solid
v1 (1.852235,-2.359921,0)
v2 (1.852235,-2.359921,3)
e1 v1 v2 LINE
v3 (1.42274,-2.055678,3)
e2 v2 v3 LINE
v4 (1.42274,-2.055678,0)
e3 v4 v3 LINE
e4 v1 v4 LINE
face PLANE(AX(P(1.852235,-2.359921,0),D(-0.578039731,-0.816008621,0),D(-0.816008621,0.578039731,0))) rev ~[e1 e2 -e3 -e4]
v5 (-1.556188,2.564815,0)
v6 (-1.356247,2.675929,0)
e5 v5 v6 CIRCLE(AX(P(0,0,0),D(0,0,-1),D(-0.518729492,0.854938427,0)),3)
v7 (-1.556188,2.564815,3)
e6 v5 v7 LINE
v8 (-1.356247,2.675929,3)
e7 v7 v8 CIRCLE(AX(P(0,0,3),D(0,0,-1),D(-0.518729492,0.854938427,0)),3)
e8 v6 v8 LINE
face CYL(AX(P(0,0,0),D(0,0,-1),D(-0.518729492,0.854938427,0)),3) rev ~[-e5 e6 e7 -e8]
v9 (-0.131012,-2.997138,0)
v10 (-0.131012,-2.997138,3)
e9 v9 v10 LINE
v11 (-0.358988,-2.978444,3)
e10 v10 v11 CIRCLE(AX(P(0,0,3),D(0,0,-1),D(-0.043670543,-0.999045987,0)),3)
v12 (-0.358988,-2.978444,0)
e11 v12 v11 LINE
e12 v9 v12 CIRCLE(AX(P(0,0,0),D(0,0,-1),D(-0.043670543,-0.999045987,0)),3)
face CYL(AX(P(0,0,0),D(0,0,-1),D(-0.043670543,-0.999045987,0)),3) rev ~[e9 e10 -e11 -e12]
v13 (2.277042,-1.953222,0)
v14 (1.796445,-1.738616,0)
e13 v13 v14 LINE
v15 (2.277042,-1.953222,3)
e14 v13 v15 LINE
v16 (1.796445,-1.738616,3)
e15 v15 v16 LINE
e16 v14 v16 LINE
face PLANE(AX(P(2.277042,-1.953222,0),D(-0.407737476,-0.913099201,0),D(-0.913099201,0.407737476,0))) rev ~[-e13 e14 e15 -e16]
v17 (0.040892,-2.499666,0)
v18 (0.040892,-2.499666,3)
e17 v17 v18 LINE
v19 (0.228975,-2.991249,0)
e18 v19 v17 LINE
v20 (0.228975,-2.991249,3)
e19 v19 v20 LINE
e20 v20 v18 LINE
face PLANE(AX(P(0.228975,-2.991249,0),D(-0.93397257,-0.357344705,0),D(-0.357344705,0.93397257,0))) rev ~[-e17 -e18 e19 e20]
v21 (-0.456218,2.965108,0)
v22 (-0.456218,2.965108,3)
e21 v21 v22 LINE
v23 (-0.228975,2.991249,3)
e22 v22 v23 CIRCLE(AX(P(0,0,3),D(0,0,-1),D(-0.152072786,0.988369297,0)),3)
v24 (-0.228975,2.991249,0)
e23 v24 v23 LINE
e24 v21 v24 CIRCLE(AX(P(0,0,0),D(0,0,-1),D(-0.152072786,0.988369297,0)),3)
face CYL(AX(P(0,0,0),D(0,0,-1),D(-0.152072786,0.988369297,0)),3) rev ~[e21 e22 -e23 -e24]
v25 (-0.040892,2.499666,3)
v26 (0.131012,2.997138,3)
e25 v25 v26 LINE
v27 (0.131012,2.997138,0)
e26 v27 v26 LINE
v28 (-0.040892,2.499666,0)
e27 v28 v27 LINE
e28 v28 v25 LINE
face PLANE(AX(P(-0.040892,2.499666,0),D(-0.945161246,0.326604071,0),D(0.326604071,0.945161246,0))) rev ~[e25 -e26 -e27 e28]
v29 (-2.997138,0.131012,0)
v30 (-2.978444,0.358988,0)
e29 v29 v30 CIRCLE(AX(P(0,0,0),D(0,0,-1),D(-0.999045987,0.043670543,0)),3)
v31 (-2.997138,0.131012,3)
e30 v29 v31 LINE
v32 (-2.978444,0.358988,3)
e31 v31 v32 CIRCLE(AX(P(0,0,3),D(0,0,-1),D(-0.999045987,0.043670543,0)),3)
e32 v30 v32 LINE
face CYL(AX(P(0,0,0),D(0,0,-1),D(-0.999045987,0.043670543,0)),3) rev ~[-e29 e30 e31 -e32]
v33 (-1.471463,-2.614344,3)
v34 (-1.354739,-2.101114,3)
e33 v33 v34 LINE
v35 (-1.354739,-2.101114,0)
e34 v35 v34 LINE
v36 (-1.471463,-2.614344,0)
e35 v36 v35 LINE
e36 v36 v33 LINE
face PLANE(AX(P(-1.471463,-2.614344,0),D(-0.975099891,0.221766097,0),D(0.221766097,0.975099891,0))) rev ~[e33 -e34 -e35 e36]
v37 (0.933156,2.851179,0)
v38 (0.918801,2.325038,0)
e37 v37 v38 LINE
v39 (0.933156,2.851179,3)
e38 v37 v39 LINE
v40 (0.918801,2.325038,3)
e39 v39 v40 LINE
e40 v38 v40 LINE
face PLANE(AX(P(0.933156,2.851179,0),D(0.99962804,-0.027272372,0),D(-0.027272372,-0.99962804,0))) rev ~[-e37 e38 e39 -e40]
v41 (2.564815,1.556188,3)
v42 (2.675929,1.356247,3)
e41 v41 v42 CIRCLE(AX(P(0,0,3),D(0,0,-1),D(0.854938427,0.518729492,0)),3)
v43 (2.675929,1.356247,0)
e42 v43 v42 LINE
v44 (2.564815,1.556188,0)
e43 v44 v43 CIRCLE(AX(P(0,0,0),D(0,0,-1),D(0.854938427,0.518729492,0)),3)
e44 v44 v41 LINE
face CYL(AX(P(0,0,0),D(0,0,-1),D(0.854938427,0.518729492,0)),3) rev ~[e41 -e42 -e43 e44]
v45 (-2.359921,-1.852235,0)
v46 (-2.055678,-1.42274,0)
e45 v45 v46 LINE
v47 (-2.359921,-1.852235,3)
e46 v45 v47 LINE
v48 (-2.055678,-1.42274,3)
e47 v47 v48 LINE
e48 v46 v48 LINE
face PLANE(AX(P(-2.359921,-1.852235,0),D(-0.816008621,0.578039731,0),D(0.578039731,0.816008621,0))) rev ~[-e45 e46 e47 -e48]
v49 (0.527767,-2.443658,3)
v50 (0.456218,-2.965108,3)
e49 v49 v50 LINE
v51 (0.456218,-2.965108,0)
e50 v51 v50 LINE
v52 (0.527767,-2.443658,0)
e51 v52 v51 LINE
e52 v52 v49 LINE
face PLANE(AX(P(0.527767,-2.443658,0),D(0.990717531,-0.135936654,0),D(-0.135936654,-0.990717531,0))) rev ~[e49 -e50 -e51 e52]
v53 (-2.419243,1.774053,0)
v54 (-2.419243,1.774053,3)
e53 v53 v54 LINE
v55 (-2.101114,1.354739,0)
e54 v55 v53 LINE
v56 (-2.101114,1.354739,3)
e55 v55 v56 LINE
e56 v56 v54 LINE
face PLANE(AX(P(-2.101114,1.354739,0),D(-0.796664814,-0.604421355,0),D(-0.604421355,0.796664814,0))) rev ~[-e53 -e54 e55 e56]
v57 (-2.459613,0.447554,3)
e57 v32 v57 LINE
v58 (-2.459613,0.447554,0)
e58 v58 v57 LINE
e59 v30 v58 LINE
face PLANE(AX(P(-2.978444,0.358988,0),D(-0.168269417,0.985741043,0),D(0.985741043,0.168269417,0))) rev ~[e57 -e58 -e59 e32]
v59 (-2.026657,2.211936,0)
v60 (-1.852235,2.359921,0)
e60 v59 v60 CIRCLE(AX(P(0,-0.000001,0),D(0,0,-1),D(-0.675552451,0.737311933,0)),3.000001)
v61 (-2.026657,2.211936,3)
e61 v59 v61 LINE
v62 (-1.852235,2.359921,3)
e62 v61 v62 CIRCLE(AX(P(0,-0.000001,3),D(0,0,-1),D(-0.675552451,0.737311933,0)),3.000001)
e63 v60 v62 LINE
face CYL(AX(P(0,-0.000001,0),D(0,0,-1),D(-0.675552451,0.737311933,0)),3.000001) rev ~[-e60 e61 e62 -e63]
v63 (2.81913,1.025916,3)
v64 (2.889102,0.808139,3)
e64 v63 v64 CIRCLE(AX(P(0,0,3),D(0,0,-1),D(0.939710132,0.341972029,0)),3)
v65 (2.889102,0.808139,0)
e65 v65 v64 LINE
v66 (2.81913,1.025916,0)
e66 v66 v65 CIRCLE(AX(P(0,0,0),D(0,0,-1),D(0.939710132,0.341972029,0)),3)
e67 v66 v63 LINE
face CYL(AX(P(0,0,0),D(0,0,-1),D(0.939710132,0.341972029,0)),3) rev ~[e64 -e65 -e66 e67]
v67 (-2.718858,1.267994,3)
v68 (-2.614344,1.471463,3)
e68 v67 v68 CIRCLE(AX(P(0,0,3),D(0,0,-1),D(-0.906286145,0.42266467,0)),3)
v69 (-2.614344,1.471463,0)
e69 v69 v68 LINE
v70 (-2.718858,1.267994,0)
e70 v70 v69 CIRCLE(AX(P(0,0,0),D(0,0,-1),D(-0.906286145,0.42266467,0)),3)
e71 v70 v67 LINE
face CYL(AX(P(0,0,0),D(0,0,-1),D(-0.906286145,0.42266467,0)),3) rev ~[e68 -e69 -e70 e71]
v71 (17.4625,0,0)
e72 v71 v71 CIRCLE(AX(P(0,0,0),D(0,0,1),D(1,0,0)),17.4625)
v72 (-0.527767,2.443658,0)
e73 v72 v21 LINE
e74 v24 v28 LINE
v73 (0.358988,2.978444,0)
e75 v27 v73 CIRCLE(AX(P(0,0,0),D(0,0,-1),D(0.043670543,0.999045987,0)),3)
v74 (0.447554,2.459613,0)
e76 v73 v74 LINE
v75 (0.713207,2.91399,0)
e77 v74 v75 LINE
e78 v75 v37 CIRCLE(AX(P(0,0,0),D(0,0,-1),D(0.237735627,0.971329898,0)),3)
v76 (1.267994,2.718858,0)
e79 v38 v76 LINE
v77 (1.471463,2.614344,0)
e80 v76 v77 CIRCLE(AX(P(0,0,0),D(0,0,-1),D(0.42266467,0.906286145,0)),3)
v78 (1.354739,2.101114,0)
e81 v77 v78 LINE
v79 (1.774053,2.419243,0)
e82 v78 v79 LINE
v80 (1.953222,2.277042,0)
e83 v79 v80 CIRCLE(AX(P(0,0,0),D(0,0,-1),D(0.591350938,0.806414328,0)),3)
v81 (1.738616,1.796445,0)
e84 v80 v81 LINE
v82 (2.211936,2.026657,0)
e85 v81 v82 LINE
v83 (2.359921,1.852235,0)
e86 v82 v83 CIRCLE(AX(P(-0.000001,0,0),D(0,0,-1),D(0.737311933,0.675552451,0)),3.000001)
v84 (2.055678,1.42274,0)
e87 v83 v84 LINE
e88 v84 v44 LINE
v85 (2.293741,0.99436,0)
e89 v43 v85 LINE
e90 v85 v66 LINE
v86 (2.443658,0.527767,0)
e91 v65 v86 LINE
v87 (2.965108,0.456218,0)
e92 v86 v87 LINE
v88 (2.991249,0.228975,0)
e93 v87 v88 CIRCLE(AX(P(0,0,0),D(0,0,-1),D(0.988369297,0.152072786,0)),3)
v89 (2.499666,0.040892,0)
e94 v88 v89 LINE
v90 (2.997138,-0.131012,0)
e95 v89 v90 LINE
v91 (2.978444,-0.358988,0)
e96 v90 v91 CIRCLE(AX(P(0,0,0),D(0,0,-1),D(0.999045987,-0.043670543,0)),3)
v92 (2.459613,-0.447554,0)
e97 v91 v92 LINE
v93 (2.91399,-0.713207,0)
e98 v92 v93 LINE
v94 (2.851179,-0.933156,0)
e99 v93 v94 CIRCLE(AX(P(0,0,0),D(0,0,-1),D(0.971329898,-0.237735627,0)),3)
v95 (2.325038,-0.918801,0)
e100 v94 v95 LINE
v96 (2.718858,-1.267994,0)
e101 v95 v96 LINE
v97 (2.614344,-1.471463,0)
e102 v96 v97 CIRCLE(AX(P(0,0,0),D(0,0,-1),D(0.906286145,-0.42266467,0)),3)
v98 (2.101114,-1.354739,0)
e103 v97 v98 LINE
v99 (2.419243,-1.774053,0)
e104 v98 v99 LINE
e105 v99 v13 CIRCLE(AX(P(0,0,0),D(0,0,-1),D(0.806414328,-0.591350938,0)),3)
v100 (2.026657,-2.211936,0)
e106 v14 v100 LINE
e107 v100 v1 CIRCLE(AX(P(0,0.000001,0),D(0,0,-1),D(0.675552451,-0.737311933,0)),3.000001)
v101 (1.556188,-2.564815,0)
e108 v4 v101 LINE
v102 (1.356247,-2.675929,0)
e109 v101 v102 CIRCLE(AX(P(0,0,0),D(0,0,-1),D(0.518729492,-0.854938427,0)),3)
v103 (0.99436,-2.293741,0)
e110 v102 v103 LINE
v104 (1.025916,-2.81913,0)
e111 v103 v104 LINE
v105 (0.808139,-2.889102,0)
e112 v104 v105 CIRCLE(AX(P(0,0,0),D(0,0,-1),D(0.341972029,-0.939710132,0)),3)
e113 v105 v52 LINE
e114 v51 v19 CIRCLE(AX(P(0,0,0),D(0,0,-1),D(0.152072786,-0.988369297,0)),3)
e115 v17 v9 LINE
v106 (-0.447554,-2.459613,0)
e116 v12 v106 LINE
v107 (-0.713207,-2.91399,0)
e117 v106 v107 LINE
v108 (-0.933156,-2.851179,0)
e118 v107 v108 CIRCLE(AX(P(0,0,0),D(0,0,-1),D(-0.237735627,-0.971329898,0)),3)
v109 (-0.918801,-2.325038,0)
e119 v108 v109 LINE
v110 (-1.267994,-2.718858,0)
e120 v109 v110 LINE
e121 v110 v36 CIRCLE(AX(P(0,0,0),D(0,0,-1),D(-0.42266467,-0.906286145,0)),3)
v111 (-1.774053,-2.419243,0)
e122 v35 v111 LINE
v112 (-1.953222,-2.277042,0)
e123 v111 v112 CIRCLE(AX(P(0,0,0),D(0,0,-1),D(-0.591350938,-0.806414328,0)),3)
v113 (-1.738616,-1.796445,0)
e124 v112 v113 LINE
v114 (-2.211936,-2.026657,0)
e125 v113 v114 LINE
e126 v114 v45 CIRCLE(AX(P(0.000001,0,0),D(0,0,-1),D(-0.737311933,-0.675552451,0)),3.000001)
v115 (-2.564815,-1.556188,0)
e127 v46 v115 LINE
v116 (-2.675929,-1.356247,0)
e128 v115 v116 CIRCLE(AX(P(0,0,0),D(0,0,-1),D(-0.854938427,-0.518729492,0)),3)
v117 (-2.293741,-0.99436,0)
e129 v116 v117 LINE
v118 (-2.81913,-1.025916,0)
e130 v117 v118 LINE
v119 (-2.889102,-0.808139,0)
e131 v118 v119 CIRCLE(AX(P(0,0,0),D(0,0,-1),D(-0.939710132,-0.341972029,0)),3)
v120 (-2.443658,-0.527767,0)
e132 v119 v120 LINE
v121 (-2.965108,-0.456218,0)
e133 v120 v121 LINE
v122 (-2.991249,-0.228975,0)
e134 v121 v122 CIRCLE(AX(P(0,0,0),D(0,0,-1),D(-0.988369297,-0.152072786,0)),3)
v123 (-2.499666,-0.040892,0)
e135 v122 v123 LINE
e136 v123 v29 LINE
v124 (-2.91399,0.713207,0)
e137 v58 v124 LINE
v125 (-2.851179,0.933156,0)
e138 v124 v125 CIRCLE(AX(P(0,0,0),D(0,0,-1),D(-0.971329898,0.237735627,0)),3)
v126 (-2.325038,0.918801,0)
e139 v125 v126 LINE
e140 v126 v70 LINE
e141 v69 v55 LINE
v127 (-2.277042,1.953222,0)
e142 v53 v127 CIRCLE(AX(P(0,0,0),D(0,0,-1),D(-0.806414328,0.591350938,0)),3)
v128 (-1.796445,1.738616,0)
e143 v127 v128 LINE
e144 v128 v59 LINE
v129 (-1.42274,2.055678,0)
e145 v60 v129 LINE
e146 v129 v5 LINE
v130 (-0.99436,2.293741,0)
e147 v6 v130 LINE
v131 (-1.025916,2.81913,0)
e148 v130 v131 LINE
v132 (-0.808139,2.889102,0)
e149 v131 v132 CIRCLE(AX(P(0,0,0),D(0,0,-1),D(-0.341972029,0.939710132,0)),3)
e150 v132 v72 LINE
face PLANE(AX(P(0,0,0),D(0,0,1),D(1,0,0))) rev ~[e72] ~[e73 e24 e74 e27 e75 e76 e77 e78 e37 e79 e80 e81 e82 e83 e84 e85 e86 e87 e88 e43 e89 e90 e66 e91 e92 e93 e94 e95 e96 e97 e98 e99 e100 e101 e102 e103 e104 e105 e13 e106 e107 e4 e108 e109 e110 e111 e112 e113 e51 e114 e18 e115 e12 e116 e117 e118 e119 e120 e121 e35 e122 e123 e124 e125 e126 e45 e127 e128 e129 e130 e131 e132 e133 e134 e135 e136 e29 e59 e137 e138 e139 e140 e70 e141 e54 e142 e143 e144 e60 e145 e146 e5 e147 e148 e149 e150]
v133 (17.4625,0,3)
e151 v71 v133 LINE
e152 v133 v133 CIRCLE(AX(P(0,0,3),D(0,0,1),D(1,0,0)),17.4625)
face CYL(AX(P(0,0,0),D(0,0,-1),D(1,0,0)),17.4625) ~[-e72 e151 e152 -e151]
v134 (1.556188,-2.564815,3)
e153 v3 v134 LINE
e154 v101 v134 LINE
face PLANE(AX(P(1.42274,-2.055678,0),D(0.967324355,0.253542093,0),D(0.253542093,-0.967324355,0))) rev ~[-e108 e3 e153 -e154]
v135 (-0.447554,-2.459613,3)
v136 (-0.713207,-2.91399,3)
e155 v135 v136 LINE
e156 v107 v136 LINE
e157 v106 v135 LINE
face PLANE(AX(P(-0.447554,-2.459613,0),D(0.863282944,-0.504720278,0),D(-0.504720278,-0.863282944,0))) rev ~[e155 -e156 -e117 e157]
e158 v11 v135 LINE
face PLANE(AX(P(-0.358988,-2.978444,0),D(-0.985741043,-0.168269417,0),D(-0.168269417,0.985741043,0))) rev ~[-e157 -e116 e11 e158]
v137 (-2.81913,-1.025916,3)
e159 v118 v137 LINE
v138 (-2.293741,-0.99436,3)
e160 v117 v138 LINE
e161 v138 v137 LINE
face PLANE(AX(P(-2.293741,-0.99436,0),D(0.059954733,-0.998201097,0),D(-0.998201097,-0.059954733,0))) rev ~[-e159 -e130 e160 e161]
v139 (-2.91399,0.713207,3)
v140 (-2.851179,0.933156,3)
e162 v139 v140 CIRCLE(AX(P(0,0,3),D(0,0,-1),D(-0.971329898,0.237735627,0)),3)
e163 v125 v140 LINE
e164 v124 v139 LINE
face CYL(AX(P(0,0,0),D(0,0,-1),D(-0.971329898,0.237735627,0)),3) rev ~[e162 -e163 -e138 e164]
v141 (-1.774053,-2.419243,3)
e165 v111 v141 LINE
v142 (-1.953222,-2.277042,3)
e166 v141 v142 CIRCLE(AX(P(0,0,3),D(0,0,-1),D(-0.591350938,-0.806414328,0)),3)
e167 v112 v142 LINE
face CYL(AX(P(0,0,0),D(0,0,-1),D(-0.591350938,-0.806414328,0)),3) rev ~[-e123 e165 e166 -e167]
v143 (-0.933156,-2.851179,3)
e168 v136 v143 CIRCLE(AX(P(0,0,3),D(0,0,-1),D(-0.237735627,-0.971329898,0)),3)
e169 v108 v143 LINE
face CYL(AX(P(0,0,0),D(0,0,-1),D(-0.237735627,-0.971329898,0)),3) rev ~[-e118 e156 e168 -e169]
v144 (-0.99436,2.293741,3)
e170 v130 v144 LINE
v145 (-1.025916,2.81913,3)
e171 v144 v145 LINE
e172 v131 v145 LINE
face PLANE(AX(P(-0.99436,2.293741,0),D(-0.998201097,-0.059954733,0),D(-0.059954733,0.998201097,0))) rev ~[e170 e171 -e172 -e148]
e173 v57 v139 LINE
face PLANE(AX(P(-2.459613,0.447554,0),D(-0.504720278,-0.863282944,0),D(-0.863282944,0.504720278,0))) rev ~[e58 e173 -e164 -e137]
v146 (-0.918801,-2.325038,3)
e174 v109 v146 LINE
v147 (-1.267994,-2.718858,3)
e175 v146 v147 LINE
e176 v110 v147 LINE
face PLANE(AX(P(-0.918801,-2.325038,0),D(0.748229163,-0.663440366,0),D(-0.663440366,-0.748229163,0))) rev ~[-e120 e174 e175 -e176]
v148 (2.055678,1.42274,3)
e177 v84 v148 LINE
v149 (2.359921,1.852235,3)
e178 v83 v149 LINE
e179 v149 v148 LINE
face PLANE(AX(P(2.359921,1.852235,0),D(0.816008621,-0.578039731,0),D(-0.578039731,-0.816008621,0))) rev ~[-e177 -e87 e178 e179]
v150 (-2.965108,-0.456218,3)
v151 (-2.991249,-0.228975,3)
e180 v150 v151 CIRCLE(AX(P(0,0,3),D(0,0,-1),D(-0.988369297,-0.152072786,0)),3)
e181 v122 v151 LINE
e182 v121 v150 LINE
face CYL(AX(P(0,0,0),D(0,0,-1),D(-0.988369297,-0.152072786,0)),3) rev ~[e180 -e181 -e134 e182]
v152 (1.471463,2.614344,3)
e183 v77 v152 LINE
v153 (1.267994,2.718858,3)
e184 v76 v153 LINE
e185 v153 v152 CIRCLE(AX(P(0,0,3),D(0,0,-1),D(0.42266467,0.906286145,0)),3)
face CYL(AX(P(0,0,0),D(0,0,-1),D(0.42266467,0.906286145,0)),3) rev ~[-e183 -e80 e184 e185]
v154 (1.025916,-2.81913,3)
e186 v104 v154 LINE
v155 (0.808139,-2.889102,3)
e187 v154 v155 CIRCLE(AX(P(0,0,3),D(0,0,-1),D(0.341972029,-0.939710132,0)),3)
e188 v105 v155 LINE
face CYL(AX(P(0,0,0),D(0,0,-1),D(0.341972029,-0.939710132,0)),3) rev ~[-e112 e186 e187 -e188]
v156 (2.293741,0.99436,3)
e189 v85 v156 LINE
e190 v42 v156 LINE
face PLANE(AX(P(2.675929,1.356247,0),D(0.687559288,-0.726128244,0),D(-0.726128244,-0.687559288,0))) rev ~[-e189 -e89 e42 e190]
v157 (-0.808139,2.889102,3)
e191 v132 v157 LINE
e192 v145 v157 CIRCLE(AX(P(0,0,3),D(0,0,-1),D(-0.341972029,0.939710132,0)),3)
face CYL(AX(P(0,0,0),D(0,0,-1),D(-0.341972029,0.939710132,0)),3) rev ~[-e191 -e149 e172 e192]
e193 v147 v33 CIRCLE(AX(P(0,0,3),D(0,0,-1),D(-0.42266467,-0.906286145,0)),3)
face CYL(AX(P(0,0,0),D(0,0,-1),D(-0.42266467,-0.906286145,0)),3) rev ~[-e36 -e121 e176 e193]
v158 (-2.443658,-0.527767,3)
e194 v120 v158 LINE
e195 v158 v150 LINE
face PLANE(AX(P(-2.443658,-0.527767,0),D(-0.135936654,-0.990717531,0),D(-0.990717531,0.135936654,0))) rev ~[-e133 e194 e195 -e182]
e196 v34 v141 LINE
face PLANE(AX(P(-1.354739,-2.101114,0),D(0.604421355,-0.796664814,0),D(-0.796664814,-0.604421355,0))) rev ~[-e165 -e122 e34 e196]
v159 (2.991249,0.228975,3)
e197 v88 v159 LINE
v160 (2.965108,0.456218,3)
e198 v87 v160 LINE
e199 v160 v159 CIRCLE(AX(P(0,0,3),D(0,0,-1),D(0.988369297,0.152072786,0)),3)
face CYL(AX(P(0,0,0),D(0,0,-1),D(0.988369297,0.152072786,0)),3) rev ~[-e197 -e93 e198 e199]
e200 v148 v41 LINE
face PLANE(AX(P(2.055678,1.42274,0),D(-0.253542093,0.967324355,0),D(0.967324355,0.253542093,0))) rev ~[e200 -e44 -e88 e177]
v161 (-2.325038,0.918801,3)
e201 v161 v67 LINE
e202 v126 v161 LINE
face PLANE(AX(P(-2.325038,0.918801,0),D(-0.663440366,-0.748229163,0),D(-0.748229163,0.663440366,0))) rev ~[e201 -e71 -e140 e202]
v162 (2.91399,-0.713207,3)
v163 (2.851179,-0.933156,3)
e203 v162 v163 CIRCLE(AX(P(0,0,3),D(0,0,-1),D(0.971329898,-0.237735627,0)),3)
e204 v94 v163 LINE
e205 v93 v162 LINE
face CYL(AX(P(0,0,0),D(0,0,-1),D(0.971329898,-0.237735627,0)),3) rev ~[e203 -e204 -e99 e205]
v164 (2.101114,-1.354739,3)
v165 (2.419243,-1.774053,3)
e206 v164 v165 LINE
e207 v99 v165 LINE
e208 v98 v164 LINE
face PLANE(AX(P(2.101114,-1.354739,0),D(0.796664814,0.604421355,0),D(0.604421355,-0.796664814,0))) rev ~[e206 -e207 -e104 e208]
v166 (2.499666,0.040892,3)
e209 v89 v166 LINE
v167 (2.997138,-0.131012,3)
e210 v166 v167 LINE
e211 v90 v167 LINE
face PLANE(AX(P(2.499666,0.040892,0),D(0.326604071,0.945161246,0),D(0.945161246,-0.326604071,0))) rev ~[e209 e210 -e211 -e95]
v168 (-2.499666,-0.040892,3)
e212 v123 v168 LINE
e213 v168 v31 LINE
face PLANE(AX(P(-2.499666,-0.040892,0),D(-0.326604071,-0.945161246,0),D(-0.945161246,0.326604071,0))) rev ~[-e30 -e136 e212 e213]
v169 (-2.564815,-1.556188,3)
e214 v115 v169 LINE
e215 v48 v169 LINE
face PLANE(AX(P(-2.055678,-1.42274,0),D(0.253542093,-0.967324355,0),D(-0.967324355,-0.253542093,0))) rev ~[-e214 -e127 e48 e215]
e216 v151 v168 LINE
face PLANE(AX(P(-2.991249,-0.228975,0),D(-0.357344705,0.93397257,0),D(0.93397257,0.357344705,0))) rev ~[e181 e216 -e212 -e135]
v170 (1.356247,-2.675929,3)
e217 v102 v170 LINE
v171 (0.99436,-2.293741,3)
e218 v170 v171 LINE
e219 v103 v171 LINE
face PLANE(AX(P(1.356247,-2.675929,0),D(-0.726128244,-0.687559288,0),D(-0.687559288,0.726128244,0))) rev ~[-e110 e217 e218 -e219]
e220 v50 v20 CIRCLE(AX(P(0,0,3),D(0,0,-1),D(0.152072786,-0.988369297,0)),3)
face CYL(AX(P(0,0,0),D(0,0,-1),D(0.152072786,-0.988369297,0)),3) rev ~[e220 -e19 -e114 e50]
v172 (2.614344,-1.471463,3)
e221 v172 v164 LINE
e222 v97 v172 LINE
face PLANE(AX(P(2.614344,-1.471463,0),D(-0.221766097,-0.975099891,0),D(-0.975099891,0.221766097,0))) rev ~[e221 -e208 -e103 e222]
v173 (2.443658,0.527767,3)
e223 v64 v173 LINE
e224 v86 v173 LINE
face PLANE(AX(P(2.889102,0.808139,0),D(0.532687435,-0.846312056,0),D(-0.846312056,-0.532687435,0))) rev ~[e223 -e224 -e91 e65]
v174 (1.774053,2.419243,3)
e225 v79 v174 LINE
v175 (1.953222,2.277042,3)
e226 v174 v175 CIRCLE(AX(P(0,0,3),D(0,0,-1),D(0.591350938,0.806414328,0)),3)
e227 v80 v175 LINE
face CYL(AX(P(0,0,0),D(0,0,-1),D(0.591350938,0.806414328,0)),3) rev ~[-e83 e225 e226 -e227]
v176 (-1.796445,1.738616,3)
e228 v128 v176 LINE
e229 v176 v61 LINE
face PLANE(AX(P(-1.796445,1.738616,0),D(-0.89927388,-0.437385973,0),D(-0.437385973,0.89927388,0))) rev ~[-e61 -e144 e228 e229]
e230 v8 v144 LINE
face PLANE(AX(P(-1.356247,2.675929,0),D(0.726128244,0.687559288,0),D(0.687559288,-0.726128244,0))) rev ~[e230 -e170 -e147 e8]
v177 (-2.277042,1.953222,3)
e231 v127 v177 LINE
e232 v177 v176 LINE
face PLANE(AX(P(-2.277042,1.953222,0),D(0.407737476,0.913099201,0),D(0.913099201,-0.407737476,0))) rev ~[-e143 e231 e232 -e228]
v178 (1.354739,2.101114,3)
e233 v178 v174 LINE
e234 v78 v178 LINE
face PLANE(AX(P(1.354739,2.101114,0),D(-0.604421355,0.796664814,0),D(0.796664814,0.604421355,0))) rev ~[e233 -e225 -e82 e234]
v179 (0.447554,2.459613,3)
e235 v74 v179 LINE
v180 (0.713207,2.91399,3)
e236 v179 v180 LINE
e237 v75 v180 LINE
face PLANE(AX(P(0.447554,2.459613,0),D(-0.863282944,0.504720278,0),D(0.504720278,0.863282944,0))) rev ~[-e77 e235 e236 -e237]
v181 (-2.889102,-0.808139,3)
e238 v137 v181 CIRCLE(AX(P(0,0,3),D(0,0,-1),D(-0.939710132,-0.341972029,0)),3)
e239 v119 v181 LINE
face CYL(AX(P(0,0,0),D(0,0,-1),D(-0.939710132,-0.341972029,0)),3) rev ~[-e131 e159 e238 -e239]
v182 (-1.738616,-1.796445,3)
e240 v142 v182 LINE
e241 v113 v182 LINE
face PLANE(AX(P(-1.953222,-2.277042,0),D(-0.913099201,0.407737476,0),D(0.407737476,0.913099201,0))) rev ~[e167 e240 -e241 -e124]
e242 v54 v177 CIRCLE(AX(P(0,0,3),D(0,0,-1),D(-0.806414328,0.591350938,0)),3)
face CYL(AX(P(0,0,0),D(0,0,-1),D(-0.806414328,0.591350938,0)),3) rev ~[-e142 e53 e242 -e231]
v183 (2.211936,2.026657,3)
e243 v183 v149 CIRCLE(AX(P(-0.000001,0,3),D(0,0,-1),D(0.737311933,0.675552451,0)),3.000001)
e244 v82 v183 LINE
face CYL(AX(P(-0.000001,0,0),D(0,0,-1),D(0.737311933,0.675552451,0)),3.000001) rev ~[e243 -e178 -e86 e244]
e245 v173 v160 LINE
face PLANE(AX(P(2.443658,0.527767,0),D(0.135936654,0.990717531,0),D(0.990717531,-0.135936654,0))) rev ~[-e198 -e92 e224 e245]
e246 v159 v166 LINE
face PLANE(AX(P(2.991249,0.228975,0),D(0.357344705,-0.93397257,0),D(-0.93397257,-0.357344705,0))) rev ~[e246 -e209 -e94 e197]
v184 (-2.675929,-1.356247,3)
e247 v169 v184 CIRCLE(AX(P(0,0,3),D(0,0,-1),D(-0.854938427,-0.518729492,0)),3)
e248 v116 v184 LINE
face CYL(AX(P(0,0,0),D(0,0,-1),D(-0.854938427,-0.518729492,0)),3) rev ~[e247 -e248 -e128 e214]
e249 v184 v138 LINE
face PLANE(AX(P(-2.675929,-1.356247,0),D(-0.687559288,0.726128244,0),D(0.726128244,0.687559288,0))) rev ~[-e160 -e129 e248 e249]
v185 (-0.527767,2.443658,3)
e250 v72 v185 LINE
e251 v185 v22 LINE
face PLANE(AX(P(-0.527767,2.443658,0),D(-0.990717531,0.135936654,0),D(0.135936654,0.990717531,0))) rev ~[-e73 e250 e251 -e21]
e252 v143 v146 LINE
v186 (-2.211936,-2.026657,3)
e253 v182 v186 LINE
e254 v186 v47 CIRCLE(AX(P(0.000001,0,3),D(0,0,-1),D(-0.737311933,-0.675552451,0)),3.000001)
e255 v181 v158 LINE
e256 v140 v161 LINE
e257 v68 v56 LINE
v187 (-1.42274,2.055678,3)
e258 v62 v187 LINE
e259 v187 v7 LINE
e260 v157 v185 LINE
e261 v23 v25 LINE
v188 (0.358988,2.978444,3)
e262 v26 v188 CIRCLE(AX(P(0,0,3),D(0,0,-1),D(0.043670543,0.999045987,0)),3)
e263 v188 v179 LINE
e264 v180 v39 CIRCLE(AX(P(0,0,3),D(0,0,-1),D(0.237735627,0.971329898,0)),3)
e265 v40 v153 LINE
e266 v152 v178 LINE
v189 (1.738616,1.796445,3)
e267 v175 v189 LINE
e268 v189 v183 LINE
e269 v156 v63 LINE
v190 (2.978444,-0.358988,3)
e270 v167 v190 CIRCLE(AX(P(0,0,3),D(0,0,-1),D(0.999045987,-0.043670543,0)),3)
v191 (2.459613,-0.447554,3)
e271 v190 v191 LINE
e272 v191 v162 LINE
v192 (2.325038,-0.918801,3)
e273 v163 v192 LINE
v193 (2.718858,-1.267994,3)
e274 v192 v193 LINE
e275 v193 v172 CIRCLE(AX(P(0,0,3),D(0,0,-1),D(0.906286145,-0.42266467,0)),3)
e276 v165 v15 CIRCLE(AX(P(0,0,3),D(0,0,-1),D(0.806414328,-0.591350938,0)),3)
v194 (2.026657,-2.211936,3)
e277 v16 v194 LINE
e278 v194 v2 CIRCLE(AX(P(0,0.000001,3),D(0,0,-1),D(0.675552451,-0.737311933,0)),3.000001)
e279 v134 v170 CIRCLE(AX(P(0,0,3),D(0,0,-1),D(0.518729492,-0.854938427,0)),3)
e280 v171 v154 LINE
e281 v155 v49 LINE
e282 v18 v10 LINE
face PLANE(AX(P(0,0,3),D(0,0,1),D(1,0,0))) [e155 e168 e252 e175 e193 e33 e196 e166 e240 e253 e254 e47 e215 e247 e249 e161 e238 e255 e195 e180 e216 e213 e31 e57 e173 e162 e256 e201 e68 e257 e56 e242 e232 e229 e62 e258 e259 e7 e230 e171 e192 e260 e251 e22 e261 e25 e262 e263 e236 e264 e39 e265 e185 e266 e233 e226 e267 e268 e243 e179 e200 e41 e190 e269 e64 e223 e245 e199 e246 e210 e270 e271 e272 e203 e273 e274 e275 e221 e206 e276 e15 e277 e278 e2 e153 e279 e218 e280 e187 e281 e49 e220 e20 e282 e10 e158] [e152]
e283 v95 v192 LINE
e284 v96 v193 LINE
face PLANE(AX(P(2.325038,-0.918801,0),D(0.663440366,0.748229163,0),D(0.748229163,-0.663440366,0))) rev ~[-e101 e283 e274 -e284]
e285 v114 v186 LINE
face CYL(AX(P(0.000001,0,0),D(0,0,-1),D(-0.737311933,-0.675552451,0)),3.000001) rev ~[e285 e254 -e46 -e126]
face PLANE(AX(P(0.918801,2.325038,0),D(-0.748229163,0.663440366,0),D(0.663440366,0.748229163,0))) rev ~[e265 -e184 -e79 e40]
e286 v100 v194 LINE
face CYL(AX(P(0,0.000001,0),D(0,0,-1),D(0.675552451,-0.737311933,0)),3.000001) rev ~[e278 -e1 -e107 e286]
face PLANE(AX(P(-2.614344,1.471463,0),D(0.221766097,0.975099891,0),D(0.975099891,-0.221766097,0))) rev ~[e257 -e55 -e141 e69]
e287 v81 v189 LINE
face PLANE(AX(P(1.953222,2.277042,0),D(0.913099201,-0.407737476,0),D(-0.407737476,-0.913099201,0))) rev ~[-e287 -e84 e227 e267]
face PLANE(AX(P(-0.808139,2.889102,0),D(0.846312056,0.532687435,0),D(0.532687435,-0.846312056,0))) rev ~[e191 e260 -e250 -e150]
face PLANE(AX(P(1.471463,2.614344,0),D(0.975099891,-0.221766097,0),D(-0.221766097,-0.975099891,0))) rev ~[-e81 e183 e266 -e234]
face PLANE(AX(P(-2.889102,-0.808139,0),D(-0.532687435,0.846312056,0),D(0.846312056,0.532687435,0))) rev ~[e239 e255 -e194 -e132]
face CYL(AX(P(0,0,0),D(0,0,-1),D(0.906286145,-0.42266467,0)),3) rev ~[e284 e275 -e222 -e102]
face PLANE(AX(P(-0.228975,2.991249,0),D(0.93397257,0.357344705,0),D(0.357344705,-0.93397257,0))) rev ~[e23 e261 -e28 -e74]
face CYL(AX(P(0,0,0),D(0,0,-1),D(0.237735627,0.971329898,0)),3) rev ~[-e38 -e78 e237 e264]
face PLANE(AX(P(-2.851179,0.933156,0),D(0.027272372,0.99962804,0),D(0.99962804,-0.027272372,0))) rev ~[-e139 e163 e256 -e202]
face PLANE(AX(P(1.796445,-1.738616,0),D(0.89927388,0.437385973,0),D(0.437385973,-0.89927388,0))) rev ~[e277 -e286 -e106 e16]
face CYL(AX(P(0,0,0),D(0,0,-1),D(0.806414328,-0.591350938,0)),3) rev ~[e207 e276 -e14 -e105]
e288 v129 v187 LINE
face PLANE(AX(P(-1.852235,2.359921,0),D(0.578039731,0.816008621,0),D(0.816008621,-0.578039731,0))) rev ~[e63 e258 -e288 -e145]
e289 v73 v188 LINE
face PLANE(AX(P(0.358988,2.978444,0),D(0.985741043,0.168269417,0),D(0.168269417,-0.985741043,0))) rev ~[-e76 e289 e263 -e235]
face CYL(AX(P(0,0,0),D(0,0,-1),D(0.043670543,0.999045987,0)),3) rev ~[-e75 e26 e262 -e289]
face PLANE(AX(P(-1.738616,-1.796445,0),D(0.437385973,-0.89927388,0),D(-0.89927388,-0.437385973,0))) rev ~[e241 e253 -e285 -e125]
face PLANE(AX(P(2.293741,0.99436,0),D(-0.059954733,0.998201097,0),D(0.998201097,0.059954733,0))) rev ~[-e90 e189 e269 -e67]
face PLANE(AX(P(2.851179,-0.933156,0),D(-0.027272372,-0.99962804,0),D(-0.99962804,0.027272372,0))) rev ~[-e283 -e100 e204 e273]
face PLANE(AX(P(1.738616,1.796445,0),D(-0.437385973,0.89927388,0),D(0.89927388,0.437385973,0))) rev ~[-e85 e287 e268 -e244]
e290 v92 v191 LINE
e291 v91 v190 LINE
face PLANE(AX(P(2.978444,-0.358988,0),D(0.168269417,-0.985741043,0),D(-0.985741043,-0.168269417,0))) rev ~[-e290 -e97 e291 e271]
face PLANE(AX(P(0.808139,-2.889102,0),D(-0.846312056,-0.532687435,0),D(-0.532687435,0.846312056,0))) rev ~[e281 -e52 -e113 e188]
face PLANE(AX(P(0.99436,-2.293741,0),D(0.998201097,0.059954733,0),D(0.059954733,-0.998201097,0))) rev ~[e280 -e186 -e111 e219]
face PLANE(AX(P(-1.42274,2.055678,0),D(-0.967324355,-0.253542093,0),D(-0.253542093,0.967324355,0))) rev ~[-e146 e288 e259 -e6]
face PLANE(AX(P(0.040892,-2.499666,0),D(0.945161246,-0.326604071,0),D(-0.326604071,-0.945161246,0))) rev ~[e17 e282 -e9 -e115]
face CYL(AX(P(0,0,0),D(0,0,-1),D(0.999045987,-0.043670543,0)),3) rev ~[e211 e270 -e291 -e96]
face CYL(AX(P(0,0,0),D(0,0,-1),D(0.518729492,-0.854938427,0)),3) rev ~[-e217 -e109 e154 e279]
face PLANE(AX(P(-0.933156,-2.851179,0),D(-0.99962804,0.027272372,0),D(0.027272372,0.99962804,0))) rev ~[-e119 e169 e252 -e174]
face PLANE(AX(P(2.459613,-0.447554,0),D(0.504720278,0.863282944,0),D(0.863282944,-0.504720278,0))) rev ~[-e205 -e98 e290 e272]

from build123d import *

# Parameters (mm, degrees)
SKETCH1_R          = 17.4625
EXTRUDE1_DEPTH     = 3
CUT_EXTRUDE2_DEPTH = 3


with BuildPart() as part:
    # Sketch1 → Extrude1 (new body)
    with BuildSketch(Plane.XY):
        Circle(SKETCH1_R)
    extrude(amount=EXTRUDE1_DEPTH)

    # Sketch4 → Cut-Extrude2 (cut)
    with BuildSketch(Plane(origin=(0, 0, 0), x_dir=(-1, 0, 0), z_dir=(0, 0, -1))):
        with BuildLine():
            Line((2.991248958, -0.228975264), (2.499665549, -0.040891873))
            Line((2.499665549, -0.040891873), (2.997137961, 0.131011615))
            ThreePointArc((2.997137961, 0.131011615), (2.989964496, 0.245178122), (2.978443806, 0.358988154))
            Line((2.978443806, 0.358988154), (2.459612785, 0.44755441))
            Line((2.459612785, 0.44755441), (2.913989697, 0.713206874))
            ThreePointArc((2.913989697, 0.713206874), (2.884681288, 0.823780229), (2.851178729, 0.933155859))
            Line((2.851178729, 0.933155859), (2.325038481, 0.918801427))
            Line((2.325038481, 0.918801427), (2.718858444, 1.267993992))
            ThreePointArc((2.718858444, 1.267993992), (2.668541396, 1.370724924), (2.614344452, 1.471462907))
            Line((2.614344452, 1.471462907), (2.101114252, 1.354739421))
            Line((2.101114252, 1.354739421), (2.419242985, 1.774052812))
            ThreePointArc((2.419242985, 1.774052812), (2.349850954, 1.86499343), (2.277042384, 1.953222461))
            Line((2.277042384, 1.953222461), (1.796445381, 1.738615539))
            Line((1.796445381, 1.738615539), (2.026657375, 2.211935778))
            ThreePointArc((2.026657375, 2.211935778), (1.940857058, 2.287591283), (1.852234854, 2.359920771))
            Line((1.852234854, 2.359920771), (1.422740121, 2.055677637))
            Line((1.422740121, 2.055677637), (1.556188458, 2.564815292))
            ThreePointArc((1.556188458, 2.564815292), (1.457277114, 2.622278287), (1.356246978, 2.675928649))
            Line((1.356246978, 2.675928649), (0.994359756, 2.293741196))
            Line((0.994359756, 2.293741196), (1.025916092, 2.819130393))
            ThreePointArc((1.025916092, 2.819130393), (0.917694828, 2.856192606), (0.808139291, 2.88910209))
            Line((0.808139291, 2.88910209), (0.527766704, 2.443657567))
            Line((0.527766704, 2.443657567), (0.456218346, 2.965107894))
            ThreePointArc((0.456218346, 2.965107894), (0.342846044, 2.980345046), (0.228975264, 2.991248958))
            Line((0.228975264, 2.991248958), (0.040891873, 2.499665549))
            Line((0.040891873, 2.499665549), (-0.131011615, 2.997137961))
            ThreePointArc((-0.131011615, 2.997137961), (-0.245178122, 2.989964496), (-0.358988154, 2.978443806))
            Line((-0.358988154, 2.978443806), (-0.44755441, 2.459612785))
            Line((-0.44755441, 2.459612785), (-0.713206874, 2.913989697))
            ThreePointArc((-0.713206874, 2.913989697), (-0.823780229, 2.884681288), (-0.933155859, 2.851178729))
            Line((-0.933155859, 2.851178729), (-0.918801427, 2.325038481))
            Line((-0.918801427, 2.325038481), (-1.267993992, 2.718858444))
            ThreePointArc((-1.267993992, 2.718858444), (-1.370724924, 2.668541396), (-1.471462907, 2.614344452))
            Line((-1.471462907, 2.614344452), (-1.354739421, 2.101114252))
            Line((-1.354739421, 2.101114252), (-1.774052812, 2.419242985))
            ThreePointArc((-1.774052812, 2.419242985), (-1.86499343, 2.349850954), (-1.953222461, 2.277042384))
            Line((-1.953222461, 2.277042384), (-1.738615539, 1.796445381))
            Line((-1.738615539, 1.796445381), (-2.211935778, 2.026657375))
            ThreePointArc((-2.211935778, 2.026657375), (-2.287591283, 1.940857058), (-2.359920771, 1.852234854))
            Line((-2.359920771, 1.852234854), (-2.055677637, 1.422740121))
            Line((-2.055677637, 1.422740121), (-2.564815292, 1.556188458))
            ThreePointArc((-2.564815292, 1.556188458), (-2.622278287, 1.457277114), (-2.675928649, 1.356246978))
            Line((-2.675928649, 1.356246978), (-2.293741196, 0.994359756))
            Line((-2.293741196, 0.994359756), (-2.819130393, 1.025916092))
            ThreePointArc((-2.819130393, 1.025916092), (-2.856192606, 0.917694828), (-2.88910209, 0.808139291))
            Line((-2.88910209, 0.808139291), (-2.443657567, 0.527766704))
            Line((-2.443657567, 0.527766704), (-2.965107894, 0.456218346))
            ThreePointArc((-2.965107894, 0.456218346), (-2.980345046, 0.342846044), (-2.991248958, 0.228975264))
            Line((-2.991248958, 0.228975264), (-2.499665549, 0.040891873))
            Line((-2.499665549, 0.040891873), (-2.997137961, -0.131011615))
            ThreePointArc((-2.997137961, -0.131011615), (-2.989964496, -0.245178122), (-2.978443806, -0.358988154))
            Line((-2.978443806, -0.358988154), (-2.459612785, -0.44755441))
            Line((-2.459612785, -0.44755441), (-2.913989697, -0.713206874))
            ThreePointArc((-2.913989697, -0.713206874), (-2.884681288, -0.823780229), (-2.851178729, -0.933155859))
            Line((-2.851178729, -0.933155859), (-2.325038481, -0.918801427))
            Line((-2.325038481, -0.918801427), (-2.718858444, -1.267993992))
            ThreePointArc((-2.718858444, -1.267993992), (-2.668541396, -1.370724924), (-2.614344452, -1.471462907))
            Line((-2.614344452, -1.471462907), (-2.101114252, -1.354739421))
            Line((-2.101114252, -1.354739421), (-2.419242985, -1.774052812))
            ThreePointArc((-2.419242985, -1.774052812), (-2.349850954, -1.86499343), (-2.277042384, -1.953222461))
            Line((-2.277042384, -1.953222461), (-1.796445381, -1.738615539))
            Line((-1.796445381, -1.738615539), (-2.026657375, -2.211935778))
            ThreePointArc((-2.026657375, -2.211935778), (-1.940857058, -2.287591283), (-1.852234854, -2.359920771))
            Line((-1.852234854, -2.359920771), (-1.422740121, -2.055677637))
            Line((-1.422740121, -2.055677637), (-1.556188458, -2.564815292))
            ThreePointArc((-1.556188458, -2.564815292), (-1.457277114, -2.622278287), (-1.356246978, -2.675928649))
            Line((-1.356246978, -2.675928649), (-0.994359756, -2.293741196))
            Line((-0.994359756, -2.293741196), (-1.025916092, -2.819130393))
            ThreePointArc((-1.025916092, -2.819130393), (-0.917694828, -2.856192606), (-0.808139291, -2.88910209))
            Line((-0.808139291, -2.88910209), (-0.527766704, -2.443657567))
            Line((-0.527766704, -2.443657567), (-0.456218346, -2.965107894))
            ThreePointArc((-0.456218346, -2.965107894), (-0.342846044, -2.980345046), (-0.228975264, -2.991248958))
            Line((-0.228975264, -2.991248958), (-0.040891873, -2.499665549))
            Line((-0.040891873, -2.499665549), (0.131011615, -2.997137961))
            ThreePointArc((0.131011615, -2.997137961), (0.245178122, -2.989964496), (0.358988154, -2.978443806))
            Line((0.358988154, -2.978443806), (0.44755441, -2.459612785))
            Line((0.44755441, -2.459612785), (0.713206874, -2.913989697))
            ThreePointArc((0.713206874, -2.913989697), (0.823780229, -2.884681288), (0.933155859, -2.851178729))
            Line((0.933155859, -2.851178729), (0.918801427, -2.325038481))
            Line((0.918801427, -2.325038481), (1.267993992, -2.718858444))
            ThreePointArc((1.267993992, -2.718858444), (1.370724924, -2.668541396), (1.471462907, -2.614344452))
            Line((1.471462907, -2.614344452), (1.354739421, -2.101114252))
            Line((1.354739421, -2.101114252), (1.774052812, -2.419242985))
            ThreePointArc((1.774052812, -2.419242985), (1.86499343, -2.349850954), (1.953222461, -2.277042384))
            Line((1.953222461, -2.277042384), (1.738615539, -1.796445381))
            Line((1.738615539, -1.796445381), (2.211935778, -2.026657375))
            ThreePointArc((2.211935778, -2.026657375), (2.287591283, -1.940857058), (2.359920771, -1.852234854))
            Line((2.359920771, -1.852234854), (2.055677637, -1.422740121))
            Line((2.055677637, -1.422740121), (2.564815292, -1.556188458))
            ThreePointArc((2.564815292, -1.556188458), (2.622278287, -1.457277114), (2.675928649, -1.356246978))
            Line((2.675928649, -1.356246978), (2.293741196, -0.994359756))
            Line((2.293741196, -0.994359756), (2.819130393, -1.025916092))
            ThreePointArc((2.819130393, -1.025916092), (2.856192606, -0.917694828), (2.88910209, -0.808139291))
            Line((2.88910209, -0.808139291), (2.443657567, -0.527766704))
            Line((2.443657567, -0.527766704), (2.965107894, -0.456218346))
            ThreePointArc((2.965107894, -0.456218346), (2.980345046, -0.342846044), (2.991248958, -0.228975264))
        make_face()
    extrude(amount=-CUT_EXTRUDE2_DEPTH, mode=Mode.SUBTRACT)


solid = part.part
